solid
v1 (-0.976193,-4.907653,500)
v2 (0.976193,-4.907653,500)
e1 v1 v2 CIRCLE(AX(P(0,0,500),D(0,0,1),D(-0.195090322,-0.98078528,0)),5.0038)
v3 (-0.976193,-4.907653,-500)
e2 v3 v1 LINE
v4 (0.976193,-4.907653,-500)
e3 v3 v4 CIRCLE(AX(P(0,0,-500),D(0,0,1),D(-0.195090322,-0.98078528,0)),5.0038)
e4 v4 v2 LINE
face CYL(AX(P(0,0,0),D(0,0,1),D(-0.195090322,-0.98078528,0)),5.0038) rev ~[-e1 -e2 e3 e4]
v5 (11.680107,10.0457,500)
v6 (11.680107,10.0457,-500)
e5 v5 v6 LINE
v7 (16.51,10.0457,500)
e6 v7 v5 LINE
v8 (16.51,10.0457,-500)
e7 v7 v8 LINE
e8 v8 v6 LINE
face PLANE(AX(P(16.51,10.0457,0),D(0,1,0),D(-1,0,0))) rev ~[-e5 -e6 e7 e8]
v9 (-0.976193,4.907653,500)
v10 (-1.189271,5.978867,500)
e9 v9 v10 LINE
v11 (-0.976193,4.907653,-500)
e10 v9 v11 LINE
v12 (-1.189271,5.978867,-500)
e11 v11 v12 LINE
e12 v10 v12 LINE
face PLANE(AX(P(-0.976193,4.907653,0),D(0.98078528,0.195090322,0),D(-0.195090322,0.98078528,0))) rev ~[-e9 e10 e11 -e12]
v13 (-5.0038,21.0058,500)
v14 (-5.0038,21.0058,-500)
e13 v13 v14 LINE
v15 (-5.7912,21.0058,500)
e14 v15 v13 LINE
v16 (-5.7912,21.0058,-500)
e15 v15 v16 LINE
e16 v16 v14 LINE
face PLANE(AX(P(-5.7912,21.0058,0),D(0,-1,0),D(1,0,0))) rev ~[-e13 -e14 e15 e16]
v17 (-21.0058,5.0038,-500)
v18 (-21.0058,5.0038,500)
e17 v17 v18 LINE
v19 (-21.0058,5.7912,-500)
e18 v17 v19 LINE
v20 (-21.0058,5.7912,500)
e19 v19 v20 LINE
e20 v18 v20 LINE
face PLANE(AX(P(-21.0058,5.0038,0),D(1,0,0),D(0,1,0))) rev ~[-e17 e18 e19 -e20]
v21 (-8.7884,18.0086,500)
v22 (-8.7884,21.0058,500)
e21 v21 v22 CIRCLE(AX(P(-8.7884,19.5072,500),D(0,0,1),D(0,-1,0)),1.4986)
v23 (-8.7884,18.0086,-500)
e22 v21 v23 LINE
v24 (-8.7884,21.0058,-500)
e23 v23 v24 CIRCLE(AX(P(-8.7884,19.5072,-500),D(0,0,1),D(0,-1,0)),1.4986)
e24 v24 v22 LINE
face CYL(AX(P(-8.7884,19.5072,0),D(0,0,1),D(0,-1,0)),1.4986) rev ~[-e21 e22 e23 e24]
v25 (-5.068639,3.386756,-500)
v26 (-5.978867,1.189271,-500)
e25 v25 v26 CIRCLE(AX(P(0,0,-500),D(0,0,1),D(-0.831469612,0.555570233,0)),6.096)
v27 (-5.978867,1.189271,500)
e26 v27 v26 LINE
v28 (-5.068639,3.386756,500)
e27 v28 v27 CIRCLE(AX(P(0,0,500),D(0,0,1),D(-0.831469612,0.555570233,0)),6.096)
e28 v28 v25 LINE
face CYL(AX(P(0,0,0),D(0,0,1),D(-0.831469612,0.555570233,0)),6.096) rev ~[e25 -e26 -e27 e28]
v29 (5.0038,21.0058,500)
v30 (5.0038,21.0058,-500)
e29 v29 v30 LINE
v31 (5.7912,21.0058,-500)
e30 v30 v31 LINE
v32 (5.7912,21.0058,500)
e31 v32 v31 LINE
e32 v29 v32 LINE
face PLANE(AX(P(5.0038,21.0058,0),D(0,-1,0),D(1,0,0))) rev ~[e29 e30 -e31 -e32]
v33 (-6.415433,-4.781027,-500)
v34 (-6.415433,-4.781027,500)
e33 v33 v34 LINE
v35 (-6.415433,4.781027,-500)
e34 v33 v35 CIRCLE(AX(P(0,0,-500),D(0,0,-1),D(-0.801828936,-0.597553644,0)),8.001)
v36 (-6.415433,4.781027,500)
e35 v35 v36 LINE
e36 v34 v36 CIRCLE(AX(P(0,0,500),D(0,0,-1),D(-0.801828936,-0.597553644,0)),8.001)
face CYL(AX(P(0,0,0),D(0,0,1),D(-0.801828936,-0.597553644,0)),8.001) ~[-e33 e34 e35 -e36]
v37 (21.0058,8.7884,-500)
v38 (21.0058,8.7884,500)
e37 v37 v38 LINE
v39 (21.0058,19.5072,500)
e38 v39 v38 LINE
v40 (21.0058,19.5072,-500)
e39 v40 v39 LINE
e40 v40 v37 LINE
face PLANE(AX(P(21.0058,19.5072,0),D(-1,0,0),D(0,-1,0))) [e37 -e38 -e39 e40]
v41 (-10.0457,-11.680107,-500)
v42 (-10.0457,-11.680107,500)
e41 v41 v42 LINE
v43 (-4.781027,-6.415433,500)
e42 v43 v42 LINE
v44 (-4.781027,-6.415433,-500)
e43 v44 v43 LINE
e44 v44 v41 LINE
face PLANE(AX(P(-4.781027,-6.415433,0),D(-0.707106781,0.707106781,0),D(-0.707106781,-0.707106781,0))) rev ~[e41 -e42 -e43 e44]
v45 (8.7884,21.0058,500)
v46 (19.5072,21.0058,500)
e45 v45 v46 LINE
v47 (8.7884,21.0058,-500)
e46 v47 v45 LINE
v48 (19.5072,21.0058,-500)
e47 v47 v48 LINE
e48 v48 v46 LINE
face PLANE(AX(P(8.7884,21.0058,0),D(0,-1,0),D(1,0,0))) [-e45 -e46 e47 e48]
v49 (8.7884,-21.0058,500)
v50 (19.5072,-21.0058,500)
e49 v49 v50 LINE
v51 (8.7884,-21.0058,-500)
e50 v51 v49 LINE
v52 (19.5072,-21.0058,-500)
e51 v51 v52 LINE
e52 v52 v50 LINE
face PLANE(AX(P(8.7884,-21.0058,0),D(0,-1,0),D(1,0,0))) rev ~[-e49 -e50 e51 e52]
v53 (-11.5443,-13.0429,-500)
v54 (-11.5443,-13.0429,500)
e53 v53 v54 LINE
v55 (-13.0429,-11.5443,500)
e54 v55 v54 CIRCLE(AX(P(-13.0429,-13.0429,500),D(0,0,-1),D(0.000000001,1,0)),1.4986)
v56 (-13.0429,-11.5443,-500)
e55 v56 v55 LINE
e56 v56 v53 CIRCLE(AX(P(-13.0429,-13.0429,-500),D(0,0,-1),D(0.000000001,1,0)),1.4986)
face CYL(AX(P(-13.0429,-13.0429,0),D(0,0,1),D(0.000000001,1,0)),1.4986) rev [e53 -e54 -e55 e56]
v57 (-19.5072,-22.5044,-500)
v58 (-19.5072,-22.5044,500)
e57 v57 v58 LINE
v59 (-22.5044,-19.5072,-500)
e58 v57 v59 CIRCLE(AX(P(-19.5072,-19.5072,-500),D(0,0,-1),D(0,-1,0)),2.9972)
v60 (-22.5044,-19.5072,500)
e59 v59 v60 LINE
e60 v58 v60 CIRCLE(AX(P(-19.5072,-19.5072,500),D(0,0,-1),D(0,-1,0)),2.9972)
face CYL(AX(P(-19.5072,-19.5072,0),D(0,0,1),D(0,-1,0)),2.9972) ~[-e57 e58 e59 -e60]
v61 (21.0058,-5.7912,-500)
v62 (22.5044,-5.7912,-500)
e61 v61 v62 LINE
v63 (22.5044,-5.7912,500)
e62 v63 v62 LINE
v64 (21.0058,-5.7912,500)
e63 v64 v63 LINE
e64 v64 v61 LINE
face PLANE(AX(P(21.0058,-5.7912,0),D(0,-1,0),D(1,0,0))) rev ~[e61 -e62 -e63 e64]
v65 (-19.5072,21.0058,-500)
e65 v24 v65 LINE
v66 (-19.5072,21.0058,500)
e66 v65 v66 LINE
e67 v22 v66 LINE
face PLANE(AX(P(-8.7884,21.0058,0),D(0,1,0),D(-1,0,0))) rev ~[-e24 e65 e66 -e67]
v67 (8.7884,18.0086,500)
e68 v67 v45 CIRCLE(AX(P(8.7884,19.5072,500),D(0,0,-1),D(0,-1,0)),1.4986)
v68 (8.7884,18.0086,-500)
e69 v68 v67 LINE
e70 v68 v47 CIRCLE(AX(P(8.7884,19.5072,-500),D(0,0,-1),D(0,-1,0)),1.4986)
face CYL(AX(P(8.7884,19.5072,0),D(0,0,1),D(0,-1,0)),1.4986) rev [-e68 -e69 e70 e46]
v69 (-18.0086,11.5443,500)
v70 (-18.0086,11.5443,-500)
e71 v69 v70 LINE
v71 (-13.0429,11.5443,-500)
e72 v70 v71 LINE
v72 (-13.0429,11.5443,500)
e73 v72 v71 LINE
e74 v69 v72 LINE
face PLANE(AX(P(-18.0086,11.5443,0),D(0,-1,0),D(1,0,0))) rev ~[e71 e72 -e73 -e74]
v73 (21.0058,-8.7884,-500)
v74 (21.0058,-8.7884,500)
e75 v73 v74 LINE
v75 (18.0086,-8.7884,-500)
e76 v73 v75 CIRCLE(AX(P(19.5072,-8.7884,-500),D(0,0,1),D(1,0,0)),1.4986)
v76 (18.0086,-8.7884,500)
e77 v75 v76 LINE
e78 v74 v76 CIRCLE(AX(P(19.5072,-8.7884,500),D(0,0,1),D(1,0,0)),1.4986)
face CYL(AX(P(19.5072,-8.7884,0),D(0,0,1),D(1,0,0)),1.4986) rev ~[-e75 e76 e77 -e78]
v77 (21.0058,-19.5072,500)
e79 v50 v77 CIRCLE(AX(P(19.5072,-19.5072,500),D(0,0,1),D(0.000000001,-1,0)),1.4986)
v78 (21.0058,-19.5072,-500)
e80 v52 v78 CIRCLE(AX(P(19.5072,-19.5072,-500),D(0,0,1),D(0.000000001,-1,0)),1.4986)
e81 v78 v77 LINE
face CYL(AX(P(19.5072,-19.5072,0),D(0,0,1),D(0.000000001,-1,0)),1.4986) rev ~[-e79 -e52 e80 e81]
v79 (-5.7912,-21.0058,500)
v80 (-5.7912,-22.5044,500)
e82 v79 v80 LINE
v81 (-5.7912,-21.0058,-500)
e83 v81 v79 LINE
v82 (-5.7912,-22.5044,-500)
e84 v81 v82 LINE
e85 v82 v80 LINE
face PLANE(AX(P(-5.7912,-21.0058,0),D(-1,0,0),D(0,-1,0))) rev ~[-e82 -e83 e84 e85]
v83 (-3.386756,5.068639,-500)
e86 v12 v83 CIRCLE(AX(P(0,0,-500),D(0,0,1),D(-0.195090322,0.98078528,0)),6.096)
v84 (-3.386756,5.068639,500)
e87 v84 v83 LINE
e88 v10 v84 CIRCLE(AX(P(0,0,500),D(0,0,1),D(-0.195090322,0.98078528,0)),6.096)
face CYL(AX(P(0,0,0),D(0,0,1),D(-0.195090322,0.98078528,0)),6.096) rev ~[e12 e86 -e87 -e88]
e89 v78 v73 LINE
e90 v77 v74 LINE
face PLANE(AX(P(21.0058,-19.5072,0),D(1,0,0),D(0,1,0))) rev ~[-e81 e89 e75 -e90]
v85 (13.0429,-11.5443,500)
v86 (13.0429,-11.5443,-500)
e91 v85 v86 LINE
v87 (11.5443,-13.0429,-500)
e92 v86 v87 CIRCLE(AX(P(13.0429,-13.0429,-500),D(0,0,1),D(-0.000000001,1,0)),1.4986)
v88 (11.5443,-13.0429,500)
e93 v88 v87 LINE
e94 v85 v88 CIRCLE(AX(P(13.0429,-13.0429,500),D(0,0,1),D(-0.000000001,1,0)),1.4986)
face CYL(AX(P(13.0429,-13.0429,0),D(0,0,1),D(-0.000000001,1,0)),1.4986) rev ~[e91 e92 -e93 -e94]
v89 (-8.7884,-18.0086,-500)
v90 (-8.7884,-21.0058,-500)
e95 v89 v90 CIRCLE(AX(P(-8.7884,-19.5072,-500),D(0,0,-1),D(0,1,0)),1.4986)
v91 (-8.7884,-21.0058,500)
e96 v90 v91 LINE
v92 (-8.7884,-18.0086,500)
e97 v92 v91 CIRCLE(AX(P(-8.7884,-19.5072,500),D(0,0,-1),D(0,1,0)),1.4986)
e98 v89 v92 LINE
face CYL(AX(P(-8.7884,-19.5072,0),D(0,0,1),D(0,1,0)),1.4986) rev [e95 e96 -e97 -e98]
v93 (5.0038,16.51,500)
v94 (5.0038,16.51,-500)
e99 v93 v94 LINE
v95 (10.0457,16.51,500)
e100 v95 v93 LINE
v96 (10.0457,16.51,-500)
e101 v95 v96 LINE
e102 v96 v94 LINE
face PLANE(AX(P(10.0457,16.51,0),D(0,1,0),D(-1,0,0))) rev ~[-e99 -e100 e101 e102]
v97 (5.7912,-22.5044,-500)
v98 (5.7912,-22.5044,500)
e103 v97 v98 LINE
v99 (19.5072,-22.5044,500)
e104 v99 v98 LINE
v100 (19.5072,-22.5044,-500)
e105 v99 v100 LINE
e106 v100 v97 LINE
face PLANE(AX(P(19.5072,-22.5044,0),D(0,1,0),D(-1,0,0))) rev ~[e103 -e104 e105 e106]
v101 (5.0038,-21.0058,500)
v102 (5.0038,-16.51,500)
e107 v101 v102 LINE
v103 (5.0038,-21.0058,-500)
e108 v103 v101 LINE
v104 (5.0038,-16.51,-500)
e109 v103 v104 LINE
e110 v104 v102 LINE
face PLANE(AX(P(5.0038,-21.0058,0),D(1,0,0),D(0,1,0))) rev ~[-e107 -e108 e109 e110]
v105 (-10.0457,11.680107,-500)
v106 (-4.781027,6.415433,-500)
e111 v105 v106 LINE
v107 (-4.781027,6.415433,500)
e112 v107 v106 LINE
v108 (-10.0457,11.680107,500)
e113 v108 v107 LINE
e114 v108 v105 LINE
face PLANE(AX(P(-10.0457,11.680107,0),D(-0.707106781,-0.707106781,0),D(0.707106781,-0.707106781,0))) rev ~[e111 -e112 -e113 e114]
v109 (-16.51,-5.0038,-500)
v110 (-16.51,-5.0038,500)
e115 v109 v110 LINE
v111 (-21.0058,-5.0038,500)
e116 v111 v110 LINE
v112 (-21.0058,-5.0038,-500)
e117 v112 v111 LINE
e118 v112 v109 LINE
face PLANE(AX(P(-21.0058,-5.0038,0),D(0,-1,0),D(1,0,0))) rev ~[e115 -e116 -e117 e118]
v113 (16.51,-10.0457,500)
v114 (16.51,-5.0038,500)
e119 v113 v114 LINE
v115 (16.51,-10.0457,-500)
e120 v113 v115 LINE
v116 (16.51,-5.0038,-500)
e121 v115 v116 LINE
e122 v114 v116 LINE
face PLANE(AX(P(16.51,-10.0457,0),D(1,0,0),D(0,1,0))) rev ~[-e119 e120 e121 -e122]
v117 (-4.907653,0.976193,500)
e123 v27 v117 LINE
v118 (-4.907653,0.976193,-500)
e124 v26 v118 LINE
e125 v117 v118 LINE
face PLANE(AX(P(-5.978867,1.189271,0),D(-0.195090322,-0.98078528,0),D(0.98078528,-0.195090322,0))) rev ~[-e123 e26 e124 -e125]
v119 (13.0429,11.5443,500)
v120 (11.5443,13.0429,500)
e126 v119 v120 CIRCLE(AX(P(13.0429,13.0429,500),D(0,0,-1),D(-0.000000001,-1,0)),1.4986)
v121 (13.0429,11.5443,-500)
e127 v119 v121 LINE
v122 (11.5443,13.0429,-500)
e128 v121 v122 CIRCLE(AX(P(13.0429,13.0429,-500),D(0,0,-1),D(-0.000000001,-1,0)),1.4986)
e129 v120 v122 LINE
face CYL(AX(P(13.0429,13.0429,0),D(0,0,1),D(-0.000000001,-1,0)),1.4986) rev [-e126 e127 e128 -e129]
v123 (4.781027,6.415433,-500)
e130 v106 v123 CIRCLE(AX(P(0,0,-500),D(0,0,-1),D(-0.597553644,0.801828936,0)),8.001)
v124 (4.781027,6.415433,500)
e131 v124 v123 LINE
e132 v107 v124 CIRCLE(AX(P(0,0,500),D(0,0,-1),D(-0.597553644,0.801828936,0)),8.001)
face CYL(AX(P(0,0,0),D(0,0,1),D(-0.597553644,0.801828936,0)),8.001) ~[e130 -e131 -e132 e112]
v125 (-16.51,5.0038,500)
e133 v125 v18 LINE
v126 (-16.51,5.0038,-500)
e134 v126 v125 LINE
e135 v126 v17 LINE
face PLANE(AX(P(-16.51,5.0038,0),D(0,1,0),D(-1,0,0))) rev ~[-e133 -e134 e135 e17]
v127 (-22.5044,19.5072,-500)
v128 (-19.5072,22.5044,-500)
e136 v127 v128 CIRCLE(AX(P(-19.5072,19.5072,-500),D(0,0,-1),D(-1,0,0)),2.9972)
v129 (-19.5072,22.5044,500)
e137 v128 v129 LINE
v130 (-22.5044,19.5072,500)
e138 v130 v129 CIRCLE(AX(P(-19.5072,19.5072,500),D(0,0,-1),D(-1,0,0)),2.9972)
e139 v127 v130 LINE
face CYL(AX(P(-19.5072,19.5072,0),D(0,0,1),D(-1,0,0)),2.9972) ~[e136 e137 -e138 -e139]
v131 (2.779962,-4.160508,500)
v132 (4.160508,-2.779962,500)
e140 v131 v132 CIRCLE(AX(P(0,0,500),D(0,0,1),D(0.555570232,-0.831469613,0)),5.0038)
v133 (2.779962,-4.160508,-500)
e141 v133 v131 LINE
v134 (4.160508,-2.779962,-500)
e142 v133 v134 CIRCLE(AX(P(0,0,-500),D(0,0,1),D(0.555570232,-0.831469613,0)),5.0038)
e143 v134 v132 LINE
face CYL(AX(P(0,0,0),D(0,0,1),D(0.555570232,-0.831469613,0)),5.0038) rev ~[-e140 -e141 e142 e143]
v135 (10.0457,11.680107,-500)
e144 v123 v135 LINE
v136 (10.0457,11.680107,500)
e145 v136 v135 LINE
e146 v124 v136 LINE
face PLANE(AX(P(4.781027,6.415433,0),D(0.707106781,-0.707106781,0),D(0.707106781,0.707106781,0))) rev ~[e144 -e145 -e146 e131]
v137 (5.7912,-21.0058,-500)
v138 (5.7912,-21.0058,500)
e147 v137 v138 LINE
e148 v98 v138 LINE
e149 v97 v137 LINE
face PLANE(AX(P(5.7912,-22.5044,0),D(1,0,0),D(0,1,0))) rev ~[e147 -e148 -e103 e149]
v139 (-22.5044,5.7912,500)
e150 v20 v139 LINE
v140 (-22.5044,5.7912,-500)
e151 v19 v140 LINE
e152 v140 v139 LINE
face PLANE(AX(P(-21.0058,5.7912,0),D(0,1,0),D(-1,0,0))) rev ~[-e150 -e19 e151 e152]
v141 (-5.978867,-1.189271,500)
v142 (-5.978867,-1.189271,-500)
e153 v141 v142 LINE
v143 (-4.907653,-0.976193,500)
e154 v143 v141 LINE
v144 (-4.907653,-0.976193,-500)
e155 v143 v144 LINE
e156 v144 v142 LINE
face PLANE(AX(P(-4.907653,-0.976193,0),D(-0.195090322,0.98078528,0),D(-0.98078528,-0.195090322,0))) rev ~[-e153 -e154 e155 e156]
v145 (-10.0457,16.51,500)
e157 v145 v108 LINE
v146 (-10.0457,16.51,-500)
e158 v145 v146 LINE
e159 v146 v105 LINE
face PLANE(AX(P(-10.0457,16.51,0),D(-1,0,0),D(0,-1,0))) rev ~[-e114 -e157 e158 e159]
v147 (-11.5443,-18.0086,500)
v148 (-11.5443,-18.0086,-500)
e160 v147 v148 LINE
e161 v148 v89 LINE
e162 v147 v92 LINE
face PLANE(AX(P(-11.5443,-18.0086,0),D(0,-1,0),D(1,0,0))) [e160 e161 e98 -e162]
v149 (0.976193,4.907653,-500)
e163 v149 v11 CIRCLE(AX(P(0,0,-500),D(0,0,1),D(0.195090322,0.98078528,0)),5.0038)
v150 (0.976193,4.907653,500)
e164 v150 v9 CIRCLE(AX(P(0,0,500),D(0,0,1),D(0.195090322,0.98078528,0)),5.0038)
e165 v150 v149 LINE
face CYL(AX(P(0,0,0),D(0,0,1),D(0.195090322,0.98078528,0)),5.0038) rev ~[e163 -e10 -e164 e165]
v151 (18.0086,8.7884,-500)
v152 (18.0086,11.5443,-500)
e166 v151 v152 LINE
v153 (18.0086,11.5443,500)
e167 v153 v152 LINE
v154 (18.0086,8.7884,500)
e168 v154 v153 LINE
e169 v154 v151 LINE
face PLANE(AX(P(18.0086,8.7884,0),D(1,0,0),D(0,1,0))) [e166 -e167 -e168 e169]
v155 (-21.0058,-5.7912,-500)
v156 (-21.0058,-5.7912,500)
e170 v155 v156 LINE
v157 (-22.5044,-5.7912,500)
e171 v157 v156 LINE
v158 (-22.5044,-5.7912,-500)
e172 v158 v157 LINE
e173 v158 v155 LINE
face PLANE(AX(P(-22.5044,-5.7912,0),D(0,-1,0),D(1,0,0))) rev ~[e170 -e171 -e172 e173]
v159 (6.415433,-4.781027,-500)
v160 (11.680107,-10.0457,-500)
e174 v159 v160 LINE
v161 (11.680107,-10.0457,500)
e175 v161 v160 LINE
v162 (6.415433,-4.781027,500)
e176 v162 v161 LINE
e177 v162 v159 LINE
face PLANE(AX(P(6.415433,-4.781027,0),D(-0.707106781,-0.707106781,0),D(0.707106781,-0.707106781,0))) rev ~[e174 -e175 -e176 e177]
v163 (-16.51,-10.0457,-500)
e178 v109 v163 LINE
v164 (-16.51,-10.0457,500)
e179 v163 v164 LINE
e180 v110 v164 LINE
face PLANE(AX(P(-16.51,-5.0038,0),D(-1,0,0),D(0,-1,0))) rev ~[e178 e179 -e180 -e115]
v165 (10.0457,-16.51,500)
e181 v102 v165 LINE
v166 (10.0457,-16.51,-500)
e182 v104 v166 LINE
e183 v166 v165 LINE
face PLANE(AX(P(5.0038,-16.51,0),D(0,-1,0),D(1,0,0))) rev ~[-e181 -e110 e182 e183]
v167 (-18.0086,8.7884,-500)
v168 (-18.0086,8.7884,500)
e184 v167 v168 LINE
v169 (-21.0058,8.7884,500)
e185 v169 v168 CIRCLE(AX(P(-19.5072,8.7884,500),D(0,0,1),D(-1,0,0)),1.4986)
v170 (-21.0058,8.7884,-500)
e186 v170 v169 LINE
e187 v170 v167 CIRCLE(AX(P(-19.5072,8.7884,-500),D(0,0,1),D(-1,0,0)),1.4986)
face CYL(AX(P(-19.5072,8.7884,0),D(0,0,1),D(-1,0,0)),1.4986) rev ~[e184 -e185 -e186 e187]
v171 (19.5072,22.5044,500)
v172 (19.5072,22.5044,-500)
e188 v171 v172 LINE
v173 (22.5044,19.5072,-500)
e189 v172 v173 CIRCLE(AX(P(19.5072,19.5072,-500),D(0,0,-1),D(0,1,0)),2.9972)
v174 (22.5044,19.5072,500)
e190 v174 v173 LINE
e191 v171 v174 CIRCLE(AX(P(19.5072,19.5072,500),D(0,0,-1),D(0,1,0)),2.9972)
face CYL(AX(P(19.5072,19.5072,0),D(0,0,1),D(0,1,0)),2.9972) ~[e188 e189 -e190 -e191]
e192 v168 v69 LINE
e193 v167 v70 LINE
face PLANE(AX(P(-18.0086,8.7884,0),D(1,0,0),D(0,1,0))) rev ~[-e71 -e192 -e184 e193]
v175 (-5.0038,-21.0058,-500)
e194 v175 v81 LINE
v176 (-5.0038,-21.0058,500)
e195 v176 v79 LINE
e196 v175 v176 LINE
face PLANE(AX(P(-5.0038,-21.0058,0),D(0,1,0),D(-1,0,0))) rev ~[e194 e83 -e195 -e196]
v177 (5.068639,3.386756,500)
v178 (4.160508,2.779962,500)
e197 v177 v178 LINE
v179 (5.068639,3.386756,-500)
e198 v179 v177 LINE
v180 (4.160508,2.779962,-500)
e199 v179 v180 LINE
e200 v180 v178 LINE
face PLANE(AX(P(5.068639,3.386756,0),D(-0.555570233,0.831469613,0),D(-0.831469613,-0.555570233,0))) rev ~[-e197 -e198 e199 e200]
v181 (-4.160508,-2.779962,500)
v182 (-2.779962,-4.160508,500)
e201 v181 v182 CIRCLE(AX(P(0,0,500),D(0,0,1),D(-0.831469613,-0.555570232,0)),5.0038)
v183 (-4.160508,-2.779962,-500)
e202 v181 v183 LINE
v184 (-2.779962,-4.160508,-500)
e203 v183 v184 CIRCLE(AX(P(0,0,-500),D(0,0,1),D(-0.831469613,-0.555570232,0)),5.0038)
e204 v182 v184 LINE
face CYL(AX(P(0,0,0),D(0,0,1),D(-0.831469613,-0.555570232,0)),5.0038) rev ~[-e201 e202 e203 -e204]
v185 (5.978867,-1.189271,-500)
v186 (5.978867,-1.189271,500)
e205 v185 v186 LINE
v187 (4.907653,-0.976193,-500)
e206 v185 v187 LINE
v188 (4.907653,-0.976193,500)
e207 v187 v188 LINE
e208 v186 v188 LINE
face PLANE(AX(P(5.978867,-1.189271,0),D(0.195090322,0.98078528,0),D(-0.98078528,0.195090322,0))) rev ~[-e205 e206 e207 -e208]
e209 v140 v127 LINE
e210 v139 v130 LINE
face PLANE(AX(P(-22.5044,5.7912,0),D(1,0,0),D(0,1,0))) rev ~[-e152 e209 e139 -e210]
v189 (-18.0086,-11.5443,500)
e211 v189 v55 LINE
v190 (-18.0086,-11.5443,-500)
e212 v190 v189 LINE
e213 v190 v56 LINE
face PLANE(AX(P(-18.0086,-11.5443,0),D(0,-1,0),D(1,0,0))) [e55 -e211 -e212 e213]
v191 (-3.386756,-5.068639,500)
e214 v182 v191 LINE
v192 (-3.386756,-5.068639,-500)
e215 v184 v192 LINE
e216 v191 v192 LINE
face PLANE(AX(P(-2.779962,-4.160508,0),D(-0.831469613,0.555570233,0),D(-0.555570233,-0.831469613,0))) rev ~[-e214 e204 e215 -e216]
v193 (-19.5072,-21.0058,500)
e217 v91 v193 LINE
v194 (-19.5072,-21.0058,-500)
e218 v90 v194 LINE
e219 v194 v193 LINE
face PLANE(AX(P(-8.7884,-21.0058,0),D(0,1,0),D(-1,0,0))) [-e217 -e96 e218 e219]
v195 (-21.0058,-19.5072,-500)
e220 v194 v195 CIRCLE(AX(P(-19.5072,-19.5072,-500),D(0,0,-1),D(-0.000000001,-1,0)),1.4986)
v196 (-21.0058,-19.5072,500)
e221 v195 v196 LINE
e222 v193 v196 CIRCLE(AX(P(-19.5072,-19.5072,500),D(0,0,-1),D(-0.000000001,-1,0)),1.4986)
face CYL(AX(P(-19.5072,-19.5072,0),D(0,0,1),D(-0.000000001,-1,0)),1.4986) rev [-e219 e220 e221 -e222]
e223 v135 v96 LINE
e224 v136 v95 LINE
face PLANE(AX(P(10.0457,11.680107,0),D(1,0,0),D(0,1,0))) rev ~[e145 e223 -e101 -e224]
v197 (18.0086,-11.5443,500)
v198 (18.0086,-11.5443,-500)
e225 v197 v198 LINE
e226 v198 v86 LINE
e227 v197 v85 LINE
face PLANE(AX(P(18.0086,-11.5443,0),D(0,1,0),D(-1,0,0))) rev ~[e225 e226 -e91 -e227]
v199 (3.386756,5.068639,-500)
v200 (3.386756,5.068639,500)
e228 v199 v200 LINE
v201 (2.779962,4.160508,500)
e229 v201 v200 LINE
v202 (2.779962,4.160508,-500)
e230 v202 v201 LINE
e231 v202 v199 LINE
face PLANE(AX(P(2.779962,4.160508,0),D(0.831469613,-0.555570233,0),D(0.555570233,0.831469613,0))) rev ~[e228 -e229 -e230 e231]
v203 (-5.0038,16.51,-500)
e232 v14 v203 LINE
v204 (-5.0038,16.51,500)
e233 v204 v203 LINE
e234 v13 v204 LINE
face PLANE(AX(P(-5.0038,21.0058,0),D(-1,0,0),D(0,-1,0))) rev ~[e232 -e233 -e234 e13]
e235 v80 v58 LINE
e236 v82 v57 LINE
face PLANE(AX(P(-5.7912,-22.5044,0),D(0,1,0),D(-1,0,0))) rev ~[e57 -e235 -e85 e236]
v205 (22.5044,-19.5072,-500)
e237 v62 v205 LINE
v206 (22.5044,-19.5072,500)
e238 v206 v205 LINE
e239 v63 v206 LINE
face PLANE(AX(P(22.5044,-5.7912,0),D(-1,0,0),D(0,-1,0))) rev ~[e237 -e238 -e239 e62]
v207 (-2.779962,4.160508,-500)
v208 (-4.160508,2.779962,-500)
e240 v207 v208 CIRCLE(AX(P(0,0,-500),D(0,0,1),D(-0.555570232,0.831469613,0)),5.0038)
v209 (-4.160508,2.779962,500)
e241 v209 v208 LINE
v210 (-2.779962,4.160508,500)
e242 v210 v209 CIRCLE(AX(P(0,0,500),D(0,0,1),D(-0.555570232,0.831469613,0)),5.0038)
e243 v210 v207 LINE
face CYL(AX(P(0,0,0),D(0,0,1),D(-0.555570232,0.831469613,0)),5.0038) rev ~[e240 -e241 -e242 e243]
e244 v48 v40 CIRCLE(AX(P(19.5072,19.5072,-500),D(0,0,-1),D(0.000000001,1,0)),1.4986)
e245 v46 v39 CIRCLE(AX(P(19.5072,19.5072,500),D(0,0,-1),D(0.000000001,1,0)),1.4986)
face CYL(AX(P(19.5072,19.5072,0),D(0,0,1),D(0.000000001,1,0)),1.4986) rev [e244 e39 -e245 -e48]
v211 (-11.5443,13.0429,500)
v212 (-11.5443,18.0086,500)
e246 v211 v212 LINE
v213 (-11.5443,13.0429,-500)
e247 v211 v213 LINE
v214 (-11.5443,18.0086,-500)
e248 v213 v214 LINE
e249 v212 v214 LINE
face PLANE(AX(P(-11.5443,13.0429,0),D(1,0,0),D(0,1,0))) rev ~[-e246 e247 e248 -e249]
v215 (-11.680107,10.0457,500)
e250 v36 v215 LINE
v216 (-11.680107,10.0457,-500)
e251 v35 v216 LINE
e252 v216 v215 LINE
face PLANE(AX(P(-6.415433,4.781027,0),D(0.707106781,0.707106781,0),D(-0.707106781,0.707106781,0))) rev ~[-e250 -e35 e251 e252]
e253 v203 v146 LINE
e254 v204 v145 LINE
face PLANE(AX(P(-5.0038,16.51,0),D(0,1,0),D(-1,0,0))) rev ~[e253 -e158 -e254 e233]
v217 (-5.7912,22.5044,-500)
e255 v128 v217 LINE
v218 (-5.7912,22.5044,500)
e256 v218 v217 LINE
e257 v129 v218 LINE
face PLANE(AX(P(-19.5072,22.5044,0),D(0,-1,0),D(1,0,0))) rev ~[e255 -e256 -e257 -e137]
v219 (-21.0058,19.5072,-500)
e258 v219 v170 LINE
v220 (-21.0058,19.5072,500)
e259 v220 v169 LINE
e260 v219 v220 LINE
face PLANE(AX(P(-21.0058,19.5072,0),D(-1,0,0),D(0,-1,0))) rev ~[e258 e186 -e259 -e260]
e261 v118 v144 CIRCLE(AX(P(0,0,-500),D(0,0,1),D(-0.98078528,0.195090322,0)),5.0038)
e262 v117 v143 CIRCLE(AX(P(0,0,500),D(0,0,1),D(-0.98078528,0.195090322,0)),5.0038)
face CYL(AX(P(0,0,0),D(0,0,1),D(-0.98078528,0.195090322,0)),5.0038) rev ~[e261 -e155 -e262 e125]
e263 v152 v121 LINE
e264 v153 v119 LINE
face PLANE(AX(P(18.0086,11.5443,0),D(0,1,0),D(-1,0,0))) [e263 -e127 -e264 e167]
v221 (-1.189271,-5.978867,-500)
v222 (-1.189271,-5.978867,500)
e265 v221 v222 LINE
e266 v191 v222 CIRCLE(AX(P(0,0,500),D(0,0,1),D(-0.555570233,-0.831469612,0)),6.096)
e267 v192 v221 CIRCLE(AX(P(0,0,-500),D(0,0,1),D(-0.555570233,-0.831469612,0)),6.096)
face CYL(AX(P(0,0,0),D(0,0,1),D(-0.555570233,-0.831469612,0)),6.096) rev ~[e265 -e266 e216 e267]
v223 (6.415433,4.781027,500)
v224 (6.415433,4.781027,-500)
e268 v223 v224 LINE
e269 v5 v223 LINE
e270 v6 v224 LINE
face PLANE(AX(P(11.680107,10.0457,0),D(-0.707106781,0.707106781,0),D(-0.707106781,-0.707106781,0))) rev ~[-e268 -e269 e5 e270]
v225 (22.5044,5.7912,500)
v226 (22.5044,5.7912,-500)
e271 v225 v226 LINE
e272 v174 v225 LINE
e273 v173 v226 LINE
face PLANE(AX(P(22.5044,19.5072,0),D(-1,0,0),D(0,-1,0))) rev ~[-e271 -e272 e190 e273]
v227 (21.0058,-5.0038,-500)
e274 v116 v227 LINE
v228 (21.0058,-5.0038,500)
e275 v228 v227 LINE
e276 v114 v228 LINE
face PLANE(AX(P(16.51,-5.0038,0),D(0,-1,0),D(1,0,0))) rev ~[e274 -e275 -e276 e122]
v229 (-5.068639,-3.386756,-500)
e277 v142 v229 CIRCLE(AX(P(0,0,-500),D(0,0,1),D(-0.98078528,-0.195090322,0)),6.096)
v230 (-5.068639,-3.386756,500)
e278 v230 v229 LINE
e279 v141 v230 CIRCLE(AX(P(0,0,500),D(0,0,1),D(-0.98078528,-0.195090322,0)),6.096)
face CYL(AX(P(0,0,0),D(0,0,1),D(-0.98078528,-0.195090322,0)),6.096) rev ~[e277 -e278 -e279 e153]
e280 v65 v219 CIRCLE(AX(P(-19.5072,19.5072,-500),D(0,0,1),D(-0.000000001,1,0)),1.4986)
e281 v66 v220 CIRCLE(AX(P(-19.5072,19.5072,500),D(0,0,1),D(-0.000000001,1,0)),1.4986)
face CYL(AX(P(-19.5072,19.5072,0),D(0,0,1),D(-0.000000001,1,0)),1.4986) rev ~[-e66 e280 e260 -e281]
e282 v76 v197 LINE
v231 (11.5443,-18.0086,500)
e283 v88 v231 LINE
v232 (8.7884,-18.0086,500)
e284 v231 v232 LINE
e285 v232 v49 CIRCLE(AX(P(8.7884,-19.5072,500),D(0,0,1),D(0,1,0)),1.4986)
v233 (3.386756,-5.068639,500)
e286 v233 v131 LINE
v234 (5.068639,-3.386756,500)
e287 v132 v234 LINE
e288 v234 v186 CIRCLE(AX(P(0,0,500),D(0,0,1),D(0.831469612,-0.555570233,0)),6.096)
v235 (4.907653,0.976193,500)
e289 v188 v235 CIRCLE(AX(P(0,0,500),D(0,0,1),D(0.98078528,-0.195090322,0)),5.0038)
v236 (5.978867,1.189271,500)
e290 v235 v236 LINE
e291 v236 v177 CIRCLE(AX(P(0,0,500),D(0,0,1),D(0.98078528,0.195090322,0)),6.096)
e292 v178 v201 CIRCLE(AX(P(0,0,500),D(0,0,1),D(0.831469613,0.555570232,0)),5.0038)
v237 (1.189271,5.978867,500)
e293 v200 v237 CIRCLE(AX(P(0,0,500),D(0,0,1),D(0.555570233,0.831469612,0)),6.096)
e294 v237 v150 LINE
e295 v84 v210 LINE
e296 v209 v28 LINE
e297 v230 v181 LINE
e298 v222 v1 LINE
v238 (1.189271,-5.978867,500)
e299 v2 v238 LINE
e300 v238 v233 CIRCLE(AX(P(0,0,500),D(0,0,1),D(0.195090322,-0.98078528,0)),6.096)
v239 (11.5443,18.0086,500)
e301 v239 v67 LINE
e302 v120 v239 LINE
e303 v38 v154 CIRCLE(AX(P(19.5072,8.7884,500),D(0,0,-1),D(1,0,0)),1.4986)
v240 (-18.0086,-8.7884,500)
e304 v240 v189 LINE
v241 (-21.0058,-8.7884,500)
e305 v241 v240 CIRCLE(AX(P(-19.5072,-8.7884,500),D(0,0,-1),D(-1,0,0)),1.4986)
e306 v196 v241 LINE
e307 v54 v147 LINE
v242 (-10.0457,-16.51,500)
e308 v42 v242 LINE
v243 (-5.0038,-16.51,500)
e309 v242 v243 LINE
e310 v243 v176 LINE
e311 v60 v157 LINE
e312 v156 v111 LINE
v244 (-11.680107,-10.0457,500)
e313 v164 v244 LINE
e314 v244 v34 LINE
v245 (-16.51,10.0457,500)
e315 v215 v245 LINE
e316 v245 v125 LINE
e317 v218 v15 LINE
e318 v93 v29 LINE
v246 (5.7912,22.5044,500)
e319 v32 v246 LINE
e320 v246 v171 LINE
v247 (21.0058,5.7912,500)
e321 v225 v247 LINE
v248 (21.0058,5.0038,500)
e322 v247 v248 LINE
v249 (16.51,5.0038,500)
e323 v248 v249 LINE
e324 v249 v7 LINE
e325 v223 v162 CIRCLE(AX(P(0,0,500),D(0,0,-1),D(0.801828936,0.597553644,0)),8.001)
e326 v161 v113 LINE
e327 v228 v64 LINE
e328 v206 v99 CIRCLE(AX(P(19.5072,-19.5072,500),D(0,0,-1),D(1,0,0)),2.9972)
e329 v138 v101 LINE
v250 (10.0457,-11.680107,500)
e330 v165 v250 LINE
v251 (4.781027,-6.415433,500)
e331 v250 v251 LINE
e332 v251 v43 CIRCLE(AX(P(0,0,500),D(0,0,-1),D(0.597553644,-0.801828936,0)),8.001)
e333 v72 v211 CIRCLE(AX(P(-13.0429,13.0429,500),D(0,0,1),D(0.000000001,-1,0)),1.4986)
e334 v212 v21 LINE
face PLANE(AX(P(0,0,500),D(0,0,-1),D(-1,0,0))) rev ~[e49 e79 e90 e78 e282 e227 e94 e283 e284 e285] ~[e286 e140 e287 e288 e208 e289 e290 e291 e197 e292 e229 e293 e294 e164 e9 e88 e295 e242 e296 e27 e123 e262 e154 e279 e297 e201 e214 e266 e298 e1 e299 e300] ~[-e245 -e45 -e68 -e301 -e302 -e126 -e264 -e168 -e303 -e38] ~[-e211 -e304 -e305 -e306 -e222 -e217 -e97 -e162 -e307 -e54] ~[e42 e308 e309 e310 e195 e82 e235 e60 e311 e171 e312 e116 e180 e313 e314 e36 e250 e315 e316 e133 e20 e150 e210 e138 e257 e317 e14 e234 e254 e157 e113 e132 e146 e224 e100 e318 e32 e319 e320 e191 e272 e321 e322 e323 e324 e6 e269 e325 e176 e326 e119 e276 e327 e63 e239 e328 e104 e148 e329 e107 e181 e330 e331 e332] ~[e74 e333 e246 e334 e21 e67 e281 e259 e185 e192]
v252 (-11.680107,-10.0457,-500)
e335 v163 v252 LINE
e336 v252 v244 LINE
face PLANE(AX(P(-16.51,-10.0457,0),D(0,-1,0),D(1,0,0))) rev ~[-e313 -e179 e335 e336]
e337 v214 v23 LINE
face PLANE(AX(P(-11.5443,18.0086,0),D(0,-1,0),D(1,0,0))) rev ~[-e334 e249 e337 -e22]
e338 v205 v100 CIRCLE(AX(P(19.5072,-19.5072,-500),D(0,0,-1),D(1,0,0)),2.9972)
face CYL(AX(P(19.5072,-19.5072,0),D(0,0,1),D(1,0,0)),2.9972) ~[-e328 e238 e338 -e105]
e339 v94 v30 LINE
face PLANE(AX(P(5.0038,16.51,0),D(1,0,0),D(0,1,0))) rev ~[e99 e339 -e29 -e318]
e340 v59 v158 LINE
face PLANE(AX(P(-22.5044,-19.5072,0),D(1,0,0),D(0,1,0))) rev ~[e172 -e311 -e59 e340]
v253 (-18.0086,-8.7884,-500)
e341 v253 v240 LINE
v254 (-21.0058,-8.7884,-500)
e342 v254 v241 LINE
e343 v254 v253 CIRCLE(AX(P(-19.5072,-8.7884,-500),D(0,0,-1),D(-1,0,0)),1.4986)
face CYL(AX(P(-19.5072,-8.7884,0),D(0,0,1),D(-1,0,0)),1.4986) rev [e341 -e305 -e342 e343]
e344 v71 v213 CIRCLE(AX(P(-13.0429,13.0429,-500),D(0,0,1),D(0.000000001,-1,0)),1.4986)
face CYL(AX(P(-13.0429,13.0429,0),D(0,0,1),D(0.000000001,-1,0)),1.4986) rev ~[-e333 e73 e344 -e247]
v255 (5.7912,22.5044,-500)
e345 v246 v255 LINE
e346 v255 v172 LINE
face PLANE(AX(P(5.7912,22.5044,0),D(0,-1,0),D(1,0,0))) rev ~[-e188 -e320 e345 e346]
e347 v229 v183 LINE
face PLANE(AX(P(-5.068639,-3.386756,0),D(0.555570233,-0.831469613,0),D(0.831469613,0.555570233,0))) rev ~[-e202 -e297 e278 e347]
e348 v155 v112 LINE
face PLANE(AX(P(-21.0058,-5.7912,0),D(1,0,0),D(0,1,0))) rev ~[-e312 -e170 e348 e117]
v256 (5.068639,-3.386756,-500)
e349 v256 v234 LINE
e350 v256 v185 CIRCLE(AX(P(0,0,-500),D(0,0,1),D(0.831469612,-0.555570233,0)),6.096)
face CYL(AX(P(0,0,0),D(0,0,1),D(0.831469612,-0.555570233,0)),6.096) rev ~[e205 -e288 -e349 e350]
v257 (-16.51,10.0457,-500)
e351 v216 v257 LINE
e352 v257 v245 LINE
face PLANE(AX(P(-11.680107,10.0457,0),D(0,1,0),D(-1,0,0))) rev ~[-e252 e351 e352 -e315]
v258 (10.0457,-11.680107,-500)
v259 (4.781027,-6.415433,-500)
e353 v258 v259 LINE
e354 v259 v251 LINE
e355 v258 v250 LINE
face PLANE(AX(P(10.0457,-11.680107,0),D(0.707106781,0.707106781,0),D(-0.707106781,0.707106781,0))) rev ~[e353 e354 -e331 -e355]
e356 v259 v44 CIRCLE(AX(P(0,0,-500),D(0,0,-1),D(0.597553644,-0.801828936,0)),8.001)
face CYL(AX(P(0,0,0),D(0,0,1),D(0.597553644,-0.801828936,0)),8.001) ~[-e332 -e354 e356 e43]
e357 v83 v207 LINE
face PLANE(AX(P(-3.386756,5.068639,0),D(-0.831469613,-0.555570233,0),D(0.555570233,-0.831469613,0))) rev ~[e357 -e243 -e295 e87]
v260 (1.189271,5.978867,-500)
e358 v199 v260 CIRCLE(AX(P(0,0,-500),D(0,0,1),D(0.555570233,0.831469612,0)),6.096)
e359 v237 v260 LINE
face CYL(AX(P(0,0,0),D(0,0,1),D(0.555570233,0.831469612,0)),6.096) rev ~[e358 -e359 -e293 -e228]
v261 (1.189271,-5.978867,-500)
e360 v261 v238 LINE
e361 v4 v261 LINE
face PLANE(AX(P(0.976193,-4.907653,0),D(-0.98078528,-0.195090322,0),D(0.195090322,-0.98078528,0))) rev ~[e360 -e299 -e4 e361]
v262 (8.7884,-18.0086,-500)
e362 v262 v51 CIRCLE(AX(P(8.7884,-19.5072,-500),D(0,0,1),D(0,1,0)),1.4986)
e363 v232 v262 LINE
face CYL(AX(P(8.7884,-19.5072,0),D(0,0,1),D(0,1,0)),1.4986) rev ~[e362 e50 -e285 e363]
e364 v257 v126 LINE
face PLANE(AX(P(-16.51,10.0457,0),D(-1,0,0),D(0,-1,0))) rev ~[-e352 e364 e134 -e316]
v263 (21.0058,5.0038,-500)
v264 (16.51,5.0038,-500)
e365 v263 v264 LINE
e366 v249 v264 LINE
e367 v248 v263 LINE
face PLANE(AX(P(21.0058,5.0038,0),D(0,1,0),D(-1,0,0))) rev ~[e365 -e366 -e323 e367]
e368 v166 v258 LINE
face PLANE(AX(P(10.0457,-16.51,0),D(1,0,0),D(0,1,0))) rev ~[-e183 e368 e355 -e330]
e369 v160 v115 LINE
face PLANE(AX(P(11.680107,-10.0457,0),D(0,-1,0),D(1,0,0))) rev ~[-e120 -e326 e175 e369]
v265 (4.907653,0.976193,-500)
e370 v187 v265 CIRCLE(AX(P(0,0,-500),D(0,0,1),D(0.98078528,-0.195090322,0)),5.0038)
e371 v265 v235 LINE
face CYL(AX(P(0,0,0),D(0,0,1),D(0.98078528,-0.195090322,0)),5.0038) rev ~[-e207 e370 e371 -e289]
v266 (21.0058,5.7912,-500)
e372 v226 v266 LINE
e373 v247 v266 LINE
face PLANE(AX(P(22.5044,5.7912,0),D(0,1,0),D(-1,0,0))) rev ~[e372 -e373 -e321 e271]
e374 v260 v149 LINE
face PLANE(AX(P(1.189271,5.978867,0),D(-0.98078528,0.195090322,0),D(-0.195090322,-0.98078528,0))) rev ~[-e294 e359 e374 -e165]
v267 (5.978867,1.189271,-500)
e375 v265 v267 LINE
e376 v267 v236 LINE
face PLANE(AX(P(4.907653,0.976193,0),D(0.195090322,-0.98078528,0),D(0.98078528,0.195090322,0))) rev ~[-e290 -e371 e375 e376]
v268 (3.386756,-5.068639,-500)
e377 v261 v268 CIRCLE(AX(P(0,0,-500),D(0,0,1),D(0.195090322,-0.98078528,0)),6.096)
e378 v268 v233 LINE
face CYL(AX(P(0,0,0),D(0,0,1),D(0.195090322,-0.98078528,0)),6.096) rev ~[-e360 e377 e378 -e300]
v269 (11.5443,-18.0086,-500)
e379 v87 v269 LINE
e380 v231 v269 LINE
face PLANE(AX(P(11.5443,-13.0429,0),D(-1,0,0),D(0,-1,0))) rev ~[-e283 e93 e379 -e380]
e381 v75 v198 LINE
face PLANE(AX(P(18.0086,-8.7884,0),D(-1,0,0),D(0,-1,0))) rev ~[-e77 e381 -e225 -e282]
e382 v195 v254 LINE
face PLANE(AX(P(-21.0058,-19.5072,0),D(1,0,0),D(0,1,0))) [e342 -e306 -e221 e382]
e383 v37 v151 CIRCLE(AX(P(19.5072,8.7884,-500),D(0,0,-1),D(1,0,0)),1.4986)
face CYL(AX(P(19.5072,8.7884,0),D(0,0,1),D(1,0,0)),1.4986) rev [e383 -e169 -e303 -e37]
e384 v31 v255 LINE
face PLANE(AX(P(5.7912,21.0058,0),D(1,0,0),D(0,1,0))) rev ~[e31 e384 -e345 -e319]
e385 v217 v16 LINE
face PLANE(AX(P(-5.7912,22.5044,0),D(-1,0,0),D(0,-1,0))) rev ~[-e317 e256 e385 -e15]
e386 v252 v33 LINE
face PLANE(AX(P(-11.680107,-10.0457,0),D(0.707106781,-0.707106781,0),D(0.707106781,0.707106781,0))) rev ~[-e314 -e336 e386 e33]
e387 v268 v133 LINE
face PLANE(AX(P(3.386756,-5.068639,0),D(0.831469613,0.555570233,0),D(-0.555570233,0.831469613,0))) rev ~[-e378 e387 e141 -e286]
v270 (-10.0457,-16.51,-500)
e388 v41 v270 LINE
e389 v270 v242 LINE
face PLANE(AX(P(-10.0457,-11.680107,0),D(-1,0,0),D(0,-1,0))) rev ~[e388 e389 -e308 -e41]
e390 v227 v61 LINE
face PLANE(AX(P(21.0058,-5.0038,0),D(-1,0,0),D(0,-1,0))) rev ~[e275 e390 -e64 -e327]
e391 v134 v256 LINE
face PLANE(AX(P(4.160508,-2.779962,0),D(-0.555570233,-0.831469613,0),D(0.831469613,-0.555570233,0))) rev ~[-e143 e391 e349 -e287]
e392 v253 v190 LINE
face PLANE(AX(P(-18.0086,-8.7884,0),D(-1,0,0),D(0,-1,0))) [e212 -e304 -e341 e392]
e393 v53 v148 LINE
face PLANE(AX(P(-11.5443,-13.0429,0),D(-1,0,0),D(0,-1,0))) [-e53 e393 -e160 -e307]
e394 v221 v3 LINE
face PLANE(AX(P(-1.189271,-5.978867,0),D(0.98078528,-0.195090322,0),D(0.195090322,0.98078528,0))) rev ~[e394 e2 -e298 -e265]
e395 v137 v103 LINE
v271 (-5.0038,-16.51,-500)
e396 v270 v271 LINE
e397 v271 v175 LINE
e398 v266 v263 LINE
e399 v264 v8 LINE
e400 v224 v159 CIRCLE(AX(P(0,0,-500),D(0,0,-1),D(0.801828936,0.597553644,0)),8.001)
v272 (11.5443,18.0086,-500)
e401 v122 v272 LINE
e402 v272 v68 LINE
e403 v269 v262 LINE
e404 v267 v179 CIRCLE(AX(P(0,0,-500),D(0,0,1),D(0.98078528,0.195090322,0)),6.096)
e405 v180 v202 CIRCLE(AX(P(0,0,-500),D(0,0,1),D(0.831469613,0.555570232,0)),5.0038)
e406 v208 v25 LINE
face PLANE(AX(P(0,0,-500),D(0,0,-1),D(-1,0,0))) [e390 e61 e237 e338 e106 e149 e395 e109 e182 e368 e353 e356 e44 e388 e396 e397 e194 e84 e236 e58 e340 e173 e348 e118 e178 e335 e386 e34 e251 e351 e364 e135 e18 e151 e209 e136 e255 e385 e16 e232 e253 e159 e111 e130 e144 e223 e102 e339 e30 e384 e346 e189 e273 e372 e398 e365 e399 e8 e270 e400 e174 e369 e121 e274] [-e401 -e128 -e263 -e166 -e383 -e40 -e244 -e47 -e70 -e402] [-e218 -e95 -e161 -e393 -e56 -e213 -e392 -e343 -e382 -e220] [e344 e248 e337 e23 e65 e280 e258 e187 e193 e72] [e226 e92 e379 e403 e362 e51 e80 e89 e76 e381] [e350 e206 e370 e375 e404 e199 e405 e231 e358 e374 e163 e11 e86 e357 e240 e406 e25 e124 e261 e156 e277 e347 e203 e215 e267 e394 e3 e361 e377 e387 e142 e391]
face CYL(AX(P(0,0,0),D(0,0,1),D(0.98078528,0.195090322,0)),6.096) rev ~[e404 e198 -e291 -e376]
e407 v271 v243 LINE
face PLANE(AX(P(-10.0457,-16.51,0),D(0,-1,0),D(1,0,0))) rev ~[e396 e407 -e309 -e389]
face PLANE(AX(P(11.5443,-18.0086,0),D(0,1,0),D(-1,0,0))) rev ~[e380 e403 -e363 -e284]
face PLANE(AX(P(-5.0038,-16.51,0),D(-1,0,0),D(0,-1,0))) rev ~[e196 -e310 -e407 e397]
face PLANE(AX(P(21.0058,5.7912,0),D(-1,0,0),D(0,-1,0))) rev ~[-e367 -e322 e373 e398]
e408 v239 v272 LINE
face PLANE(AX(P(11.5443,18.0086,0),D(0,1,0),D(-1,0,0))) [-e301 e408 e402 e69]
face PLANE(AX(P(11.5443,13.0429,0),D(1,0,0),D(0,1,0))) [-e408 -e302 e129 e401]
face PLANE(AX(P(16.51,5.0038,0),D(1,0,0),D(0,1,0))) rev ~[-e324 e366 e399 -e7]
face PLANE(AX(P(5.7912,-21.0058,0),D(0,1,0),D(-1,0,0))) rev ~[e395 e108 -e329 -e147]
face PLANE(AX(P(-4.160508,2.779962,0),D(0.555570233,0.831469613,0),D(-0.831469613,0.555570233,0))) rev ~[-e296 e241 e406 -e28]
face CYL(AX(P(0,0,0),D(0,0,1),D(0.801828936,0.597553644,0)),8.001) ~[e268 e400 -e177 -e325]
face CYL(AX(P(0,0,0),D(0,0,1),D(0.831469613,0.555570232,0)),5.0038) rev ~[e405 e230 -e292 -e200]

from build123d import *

# Parameters (mm, degrees)
BOSS_EXTRUDE1_DEPTH = 500


with BuildPart() as part:
    # Sketch1 → Boss-Extrude1 (new, symmetric)
    with BuildSketch(Plane.XY):
        with BuildLine():
            Line((-19.5072, 22.5044), (-5.7912, 22.5044))
            Line((-5.7912, 22.5044), (-5.7912, 21.0058))
            Line((-5.7912, 21.0058), (-5.0038, 21.0058))
            Line((-5.0038, 21.0058), (-5.0038, 16.51))
            Line((-5.0038, 16.51), (-10.0457, 16.51))
            Line((-10.0457, 16.51), (-10.0457, 11.680106614))
            Line((-10.0457, 11.680106614), (-4.781026704, 6.415433318))
            ThreePointArc((-4.781026704, 6.415433318), (0, 8.001), (4.781026704, 6.415433318))
            Line((4.781026704, 6.415433318), (10.0457, 11.680106614))
            Line((10.0457, 11.680106614), (10.0457, 16.51))
            Line((10.0457, 16.51), (5.0038, 16.51))
            Line((5.0038, 16.51), (5.0038, 21.0058))
            Line((5.0038, 21.0058), (5.7912, 21.0058))
            Line((5.7912, 21.0058), (5.7912, 22.5044))
            Line((5.7912, 22.5044), (19.5072, 22.5044))
            ThreePointArc((19.5072, 22.5044), (21.626540445, 21.626540445), (22.5044, 19.5072))
            Line((22.5044, 19.5072), (22.5044, 5.7912))
            Line((22.5044, 5.7912), (21.0058, 5.7912))
            Line((21.0058, 5.7912), (21.0058, 5.0038))
            Line((21.0058, 5.0038), (16.51, 5.0038))
            Line((16.51, 5.0038), (16.51, 10.0457))
            Line((16.51, 10.0457), (11.680106614, 10.0457))
            Line((11.680106614, 10.0457), (6.415433318, 4.781026704))
            ThreePointArc((6.415433318, 4.781026704), (8.001, 0), (6.415433318, -4.781026704))
            Line((6.415433318, -4.781026704), (11.680106614, -10.0457))
            Line((11.680106614, -10.0457), (16.51, -10.0457))
            Line((16.51, -10.0457), (16.51, -5.0038))
            Line((16.51, -5.0038), (21.0058, -5.0038))
            Line((21.0058, -5.0038), (21.0058, -5.7912))
            Line((21.0058, -5.7912), (22.5044, -5.7912))
            Line((22.5044, -5.7912), (22.5044, -19.5072))
            ThreePointArc((22.5044, -19.5072), (21.626540445, -21.626540445), (19.5072, -22.5044))
            Line((19.5072, -22.5044), (5.7912, -22.5044))
            Line((5.7912, -22.5044), (5.7912, -21.0058))
            Line((5.7912, -21.0058), (5.0038, -21.0058))
            Line((5.0038, -21.0058), (5.0038, -16.51))
            Line((5.0038, -16.51), (10.0457, -16.51))
            Line((10.0457, -16.51), (10.0457, -11.680106614))
            Line((10.0457, -11.680106614), (4.781026704, -6.415433318))
            ThreePointArc((4.781026704, -6.415433318), (0, -8.001), (-4.781026704, -6.415433318))
            Line((-4.781026704, -6.415433318), (-10.0457, -11.680106614))
            Line((-10.0457, -11.680106614), (-10.0457, -16.51))
            Line((-10.0457, -16.51), (-5.0038, -16.51))
            Line((-5.0038, -16.51), (-5.0038, -21.0058))
            Line((-5.0038, -21.0058), (-5.7912, -21.0058))
            Line((-5.7912, -21.0058), (-5.7912, -22.5044))
            Line((-5.7912, -22.5044), (-19.5072, -22.5044))
            ThreePointArc((-19.5072, -22.5044), (-21.626540445, -21.626540445), (-22.5044, -19.5072))
            Line((-22.5044, -19.5072), (-22.5044, -5.7912))
            Line((-22.5044, -5.7912), (-21.0058, -5.7912))
            Line((-21.0058, -5.7912), (-21.0058, -5.0038))
            Line((-21.0058, -5.0038), (-16.51, -5.0038))
            Line((-16.51, -5.0038), (-16.51, -10.0457))
            Line((-16.51, -10.0457), (-11.680106614, -10.0457))
            Line((-11.680106614, -10.0457), (-6.415433318, -4.781026704))
            ThreePointArc((-6.415433318, -4.781026704), (-8.001, 0), (-6.415433318, 4.781026704))
            Line((-6.415433318, 4.781026704), (-11.680106614, 10.0457))
            Line((-11.680106614, 10.0457), (-16.51, 10.0457))
            Line((-16.51, 10.0457), (-16.51, 5.0038))
            Line((-16.51, 5.0038), (-21.0058, 5.0038))
            Line((-21.0058, 5.0038), (-21.0058, 5.7912))
            Line((-21.0058, 5.7912), (-22.5044, 5.7912))
            Line((-22.5044, 5.7912), (-22.5044, 19.5072))
            ThreePointArc((-22.5044, 19.5072), (-21.626540445, 21.626540445), (-19.5072, 22.5044))
        make_face()
        with BuildLine():
            Line((-18.0086, 11.5443), (-13.0429, 11.5443))
            ThreePointArc((-13.0429, 11.5443), (-11.983229778, 11.983229778), (-11.5443, 13.0429))
            Line((-11.5443, 13.0429), (-11.5443, 18.0086))
            Line((-11.5443, 18.0086), (-8.7884, 18.0086))
            ThreePointArc((-8.7884, 18.0086), (-7.2898, 19.5072), (-8.7884, 21.0058))
            Line((-8.7884, 21.0058), (-19.5072, 21.0058))
            ThreePointArc((-19.5072, 21.0058), (-20.566870222, 20.566870222), (-21.0058, 19.5072))
            Line((-21.0058, 19.5072), (-21.0058, 8.7884))
            ThreePointArc((-21.0058, 8.7884), (-19.5072, 7.2898), (-18.0086, 8.7884))
            Line((-18.0086, 8.7884), (-18.0086, 11.5443))
        make_face(mode=Mode.SUBTRACT)
        with BuildLine():
            Line((1.189270603, 5.978867069), (0.976192953, 4.907653386))
            ThreePointArc((0.976192953, 4.907653386), (0, 5.0038), (-0.976192953, 4.907653386))
            Line((-0.976192953, 4.907653386), (-1.189270603, 5.978867069))
            ThreePointArc((-1.189270603, 5.978867069), (-2.332838204, 5.63196963), (-3.38675614, 5.068638757))
            Line((-3.38675614, 5.068638757), (-2.779962332, 4.160507646))
            ThreePointArc((-2.779962332, 4.160507646), (-3.538220912, 3.538220912), (-4.160507646, 2.779962332))
            Line((-4.160507646, 2.779962332), (-5.068638757, 3.38675614))
            ThreePointArc((-5.068638757, 3.38675614), (-5.63196963, 2.332838204), (-5.978867069, 1.189270603))
            Line((-5.978867069, 1.189270603), (-4.907653386, 0.976192953))
            ThreePointArc((-4.907653386, 0.976192953), (-5.0038, 0), (-4.907653386, -0.976192953))
            Line((-4.907653386, -0.976192953), (-5.978867069, -1.189270603))
            ThreePointArc((-5.978867069, -1.189270603), (-5.63196963, -2.332838204), (-5.068638757, -3.38675614))
            Line((-5.068638757, -3.38675614), (-4.160507646, -2.779962332))
            ThreePointArc((-4.160507646, -2.779962332), (-3.538220912, -3.538220912), (-2.779962332, -4.160507646))
            Line((-2.779962332, -4.160507646), (-3.38675614, -5.068638757))
            ThreePointArc((-3.38675614, -5.068638757), (-2.332838204, -5.63196963), (-1.189270603, -5.978867069))
            Line((-1.189270603, -5.978867069), (-0.976192953, -4.907653386))
            ThreePointArc((-0.976192953, -4.907653386), (0, -5.0038), (0.976192953, -4.907653386))
            Line((0.976192953, -4.907653386), (1.189270603, -5.978867069))
            ThreePointArc((1.189270603, -5.978867069), (2.332838204, -5.63196963), (3.38675614, -5.068638757))
            Line((3.38675614, -5.068638757), (2.779962332, -4.160507646))
            ThreePointArc((2.779962332, -4.160507646), (3.538220912, -3.538220912), (4.160507646, -2.779962332))
            Line((4.160507646, -2.779962332), (5.068638757, -3.38675614))
            ThreePointArc((5.068638757, -3.38675614), (5.63196963, -2.332838204), (5.978867069, -1.189270603))
            Line((5.978867069, -1.189270603), (4.907653386, -0.976192953))
            ThreePointArc((4.907653386, -0.976192953), (5.0038, 0), (4.907653386, 0.976192953))
            Line((4.907653386, 0.976192953), (5.978867069, 1.189270603))
            ThreePointArc((5.978867069, 1.189270603), (5.63196963, 2.332838204), (5.068638757, 3.38675614))
            Line((5.068638757, 3.38675614), (4.160507646, 2.779962332))
            ThreePointArc((4.160507646, 2.779962332), (3.538220912, 3.538220912), (2.779962332, 4.160507646))
            Line((2.779962332, 4.160507646), (3.38675614, 5.068638757))
            ThreePointArc((3.38675614, 5.068638757), (2.332838204, 5.63196963), (1.189270603, 5.978867069))
        make_face(mode=Mode.SUBTRACT)
        with BuildLine():
            Line((11.5443, 18.0086), (8.7884, 18.0086))
            ThreePointArc((8.7884, 18.0086), (7.2898, 19.5072), (8.7884, 21.0058))
            Line((8.7884, 21.0058), (19.5072, 21.0058))
            ThreePointArc((19.5072, 21.0058), (20.566870222, 20.566870222), (21.0058, 19.5072))
            Line((21.0058, 19.5072), (21.0058, 8.7884))
            ThreePointArc((21.0058, 8.7884), (19.5072, 7.2898), (18.0086, 8.7884))
            Line((18.0086, 8.7884), (18.0086, 11.5443))
            Line((18.0086, 11.5443), (13.0429, 11.5443))
            ThreePointArc((13.0429, 11.5443), (11.983229778, 11.983229778), (11.5443, 13.0429))
            Line((11.5443, 13.0429), (11.5443, 18.0086))
        make_face(mode=Mode.SUBTRACT)
        with BuildLine():
            Line((18.0086, -11.5443), (13.0429, -11.5443))
            ThreePointArc((13.0429, -11.5443), (11.983229778, -11.983229778), (11.5443, -13.0429))
            Line((11.5443, -13.0429), (11.5443, -18.0086))
            Line((11.5443, -18.0086), (8.7884, -18.0086))
            ThreePointArc((8.7884, -18.0086), (7.2898, -19.5072), (8.7884, -21.0058))
            Line((8.7884, -21.0058), (19.5072, -21.0058))
            ThreePointArc((19.5072, -21.0058), (20.566870222, -20.566870222), (21.0058, -19.5072))
            Line((21.0058, -19.5072), (21.0058, -8.7884))
            ThreePointArc((21.0058, -8.7884), (19.5072, -7.2898), (18.0086, -8.7884))
            Line((18.0086, -8.7884), (18.0086, -11.5443))
        make_face(mode=Mode.SUBTRACT)
        with BuildLine():
            Line((-11.5443, -18.0086), (-8.7884, -18.0086))
            ThreePointArc((-8.7884, -18.0086), (-7.2898, -19.5072), (-8.7884, -21.0058))
            Line((-8.7884, -21.0058), (-19.5072, -21.0058))
            ThreePointArc((-19.5072, -21.0058), (-20.566870222, -20.566870222), (-21.0058, -19.5072))
            Line((-21.0058, -19.5072), (-21.0058, -8.7884))
            ThreePointArc((-21.0058, -8.7884), (-19.5072, -7.2898), (-18.0086, -8.7884))
            Line((-18.0086, -8.7884), (-18.0086, -11.5443))
            Line((-18.0086, -11.5443), (-13.0429, -11.5443))
            ThreePointArc((-13.0429, -11.5443), (-11.983229778, -11.983229778), (-11.5443, -13.0429))
            Line((-11.5443, -13.0429), (-11.5443, -18.0086))
        make_face(mode=Mode.SUBTRACT)
    extrude(amount=BOSS_EXTRUDE1_DEPTH, both=True)


solid = part.part
